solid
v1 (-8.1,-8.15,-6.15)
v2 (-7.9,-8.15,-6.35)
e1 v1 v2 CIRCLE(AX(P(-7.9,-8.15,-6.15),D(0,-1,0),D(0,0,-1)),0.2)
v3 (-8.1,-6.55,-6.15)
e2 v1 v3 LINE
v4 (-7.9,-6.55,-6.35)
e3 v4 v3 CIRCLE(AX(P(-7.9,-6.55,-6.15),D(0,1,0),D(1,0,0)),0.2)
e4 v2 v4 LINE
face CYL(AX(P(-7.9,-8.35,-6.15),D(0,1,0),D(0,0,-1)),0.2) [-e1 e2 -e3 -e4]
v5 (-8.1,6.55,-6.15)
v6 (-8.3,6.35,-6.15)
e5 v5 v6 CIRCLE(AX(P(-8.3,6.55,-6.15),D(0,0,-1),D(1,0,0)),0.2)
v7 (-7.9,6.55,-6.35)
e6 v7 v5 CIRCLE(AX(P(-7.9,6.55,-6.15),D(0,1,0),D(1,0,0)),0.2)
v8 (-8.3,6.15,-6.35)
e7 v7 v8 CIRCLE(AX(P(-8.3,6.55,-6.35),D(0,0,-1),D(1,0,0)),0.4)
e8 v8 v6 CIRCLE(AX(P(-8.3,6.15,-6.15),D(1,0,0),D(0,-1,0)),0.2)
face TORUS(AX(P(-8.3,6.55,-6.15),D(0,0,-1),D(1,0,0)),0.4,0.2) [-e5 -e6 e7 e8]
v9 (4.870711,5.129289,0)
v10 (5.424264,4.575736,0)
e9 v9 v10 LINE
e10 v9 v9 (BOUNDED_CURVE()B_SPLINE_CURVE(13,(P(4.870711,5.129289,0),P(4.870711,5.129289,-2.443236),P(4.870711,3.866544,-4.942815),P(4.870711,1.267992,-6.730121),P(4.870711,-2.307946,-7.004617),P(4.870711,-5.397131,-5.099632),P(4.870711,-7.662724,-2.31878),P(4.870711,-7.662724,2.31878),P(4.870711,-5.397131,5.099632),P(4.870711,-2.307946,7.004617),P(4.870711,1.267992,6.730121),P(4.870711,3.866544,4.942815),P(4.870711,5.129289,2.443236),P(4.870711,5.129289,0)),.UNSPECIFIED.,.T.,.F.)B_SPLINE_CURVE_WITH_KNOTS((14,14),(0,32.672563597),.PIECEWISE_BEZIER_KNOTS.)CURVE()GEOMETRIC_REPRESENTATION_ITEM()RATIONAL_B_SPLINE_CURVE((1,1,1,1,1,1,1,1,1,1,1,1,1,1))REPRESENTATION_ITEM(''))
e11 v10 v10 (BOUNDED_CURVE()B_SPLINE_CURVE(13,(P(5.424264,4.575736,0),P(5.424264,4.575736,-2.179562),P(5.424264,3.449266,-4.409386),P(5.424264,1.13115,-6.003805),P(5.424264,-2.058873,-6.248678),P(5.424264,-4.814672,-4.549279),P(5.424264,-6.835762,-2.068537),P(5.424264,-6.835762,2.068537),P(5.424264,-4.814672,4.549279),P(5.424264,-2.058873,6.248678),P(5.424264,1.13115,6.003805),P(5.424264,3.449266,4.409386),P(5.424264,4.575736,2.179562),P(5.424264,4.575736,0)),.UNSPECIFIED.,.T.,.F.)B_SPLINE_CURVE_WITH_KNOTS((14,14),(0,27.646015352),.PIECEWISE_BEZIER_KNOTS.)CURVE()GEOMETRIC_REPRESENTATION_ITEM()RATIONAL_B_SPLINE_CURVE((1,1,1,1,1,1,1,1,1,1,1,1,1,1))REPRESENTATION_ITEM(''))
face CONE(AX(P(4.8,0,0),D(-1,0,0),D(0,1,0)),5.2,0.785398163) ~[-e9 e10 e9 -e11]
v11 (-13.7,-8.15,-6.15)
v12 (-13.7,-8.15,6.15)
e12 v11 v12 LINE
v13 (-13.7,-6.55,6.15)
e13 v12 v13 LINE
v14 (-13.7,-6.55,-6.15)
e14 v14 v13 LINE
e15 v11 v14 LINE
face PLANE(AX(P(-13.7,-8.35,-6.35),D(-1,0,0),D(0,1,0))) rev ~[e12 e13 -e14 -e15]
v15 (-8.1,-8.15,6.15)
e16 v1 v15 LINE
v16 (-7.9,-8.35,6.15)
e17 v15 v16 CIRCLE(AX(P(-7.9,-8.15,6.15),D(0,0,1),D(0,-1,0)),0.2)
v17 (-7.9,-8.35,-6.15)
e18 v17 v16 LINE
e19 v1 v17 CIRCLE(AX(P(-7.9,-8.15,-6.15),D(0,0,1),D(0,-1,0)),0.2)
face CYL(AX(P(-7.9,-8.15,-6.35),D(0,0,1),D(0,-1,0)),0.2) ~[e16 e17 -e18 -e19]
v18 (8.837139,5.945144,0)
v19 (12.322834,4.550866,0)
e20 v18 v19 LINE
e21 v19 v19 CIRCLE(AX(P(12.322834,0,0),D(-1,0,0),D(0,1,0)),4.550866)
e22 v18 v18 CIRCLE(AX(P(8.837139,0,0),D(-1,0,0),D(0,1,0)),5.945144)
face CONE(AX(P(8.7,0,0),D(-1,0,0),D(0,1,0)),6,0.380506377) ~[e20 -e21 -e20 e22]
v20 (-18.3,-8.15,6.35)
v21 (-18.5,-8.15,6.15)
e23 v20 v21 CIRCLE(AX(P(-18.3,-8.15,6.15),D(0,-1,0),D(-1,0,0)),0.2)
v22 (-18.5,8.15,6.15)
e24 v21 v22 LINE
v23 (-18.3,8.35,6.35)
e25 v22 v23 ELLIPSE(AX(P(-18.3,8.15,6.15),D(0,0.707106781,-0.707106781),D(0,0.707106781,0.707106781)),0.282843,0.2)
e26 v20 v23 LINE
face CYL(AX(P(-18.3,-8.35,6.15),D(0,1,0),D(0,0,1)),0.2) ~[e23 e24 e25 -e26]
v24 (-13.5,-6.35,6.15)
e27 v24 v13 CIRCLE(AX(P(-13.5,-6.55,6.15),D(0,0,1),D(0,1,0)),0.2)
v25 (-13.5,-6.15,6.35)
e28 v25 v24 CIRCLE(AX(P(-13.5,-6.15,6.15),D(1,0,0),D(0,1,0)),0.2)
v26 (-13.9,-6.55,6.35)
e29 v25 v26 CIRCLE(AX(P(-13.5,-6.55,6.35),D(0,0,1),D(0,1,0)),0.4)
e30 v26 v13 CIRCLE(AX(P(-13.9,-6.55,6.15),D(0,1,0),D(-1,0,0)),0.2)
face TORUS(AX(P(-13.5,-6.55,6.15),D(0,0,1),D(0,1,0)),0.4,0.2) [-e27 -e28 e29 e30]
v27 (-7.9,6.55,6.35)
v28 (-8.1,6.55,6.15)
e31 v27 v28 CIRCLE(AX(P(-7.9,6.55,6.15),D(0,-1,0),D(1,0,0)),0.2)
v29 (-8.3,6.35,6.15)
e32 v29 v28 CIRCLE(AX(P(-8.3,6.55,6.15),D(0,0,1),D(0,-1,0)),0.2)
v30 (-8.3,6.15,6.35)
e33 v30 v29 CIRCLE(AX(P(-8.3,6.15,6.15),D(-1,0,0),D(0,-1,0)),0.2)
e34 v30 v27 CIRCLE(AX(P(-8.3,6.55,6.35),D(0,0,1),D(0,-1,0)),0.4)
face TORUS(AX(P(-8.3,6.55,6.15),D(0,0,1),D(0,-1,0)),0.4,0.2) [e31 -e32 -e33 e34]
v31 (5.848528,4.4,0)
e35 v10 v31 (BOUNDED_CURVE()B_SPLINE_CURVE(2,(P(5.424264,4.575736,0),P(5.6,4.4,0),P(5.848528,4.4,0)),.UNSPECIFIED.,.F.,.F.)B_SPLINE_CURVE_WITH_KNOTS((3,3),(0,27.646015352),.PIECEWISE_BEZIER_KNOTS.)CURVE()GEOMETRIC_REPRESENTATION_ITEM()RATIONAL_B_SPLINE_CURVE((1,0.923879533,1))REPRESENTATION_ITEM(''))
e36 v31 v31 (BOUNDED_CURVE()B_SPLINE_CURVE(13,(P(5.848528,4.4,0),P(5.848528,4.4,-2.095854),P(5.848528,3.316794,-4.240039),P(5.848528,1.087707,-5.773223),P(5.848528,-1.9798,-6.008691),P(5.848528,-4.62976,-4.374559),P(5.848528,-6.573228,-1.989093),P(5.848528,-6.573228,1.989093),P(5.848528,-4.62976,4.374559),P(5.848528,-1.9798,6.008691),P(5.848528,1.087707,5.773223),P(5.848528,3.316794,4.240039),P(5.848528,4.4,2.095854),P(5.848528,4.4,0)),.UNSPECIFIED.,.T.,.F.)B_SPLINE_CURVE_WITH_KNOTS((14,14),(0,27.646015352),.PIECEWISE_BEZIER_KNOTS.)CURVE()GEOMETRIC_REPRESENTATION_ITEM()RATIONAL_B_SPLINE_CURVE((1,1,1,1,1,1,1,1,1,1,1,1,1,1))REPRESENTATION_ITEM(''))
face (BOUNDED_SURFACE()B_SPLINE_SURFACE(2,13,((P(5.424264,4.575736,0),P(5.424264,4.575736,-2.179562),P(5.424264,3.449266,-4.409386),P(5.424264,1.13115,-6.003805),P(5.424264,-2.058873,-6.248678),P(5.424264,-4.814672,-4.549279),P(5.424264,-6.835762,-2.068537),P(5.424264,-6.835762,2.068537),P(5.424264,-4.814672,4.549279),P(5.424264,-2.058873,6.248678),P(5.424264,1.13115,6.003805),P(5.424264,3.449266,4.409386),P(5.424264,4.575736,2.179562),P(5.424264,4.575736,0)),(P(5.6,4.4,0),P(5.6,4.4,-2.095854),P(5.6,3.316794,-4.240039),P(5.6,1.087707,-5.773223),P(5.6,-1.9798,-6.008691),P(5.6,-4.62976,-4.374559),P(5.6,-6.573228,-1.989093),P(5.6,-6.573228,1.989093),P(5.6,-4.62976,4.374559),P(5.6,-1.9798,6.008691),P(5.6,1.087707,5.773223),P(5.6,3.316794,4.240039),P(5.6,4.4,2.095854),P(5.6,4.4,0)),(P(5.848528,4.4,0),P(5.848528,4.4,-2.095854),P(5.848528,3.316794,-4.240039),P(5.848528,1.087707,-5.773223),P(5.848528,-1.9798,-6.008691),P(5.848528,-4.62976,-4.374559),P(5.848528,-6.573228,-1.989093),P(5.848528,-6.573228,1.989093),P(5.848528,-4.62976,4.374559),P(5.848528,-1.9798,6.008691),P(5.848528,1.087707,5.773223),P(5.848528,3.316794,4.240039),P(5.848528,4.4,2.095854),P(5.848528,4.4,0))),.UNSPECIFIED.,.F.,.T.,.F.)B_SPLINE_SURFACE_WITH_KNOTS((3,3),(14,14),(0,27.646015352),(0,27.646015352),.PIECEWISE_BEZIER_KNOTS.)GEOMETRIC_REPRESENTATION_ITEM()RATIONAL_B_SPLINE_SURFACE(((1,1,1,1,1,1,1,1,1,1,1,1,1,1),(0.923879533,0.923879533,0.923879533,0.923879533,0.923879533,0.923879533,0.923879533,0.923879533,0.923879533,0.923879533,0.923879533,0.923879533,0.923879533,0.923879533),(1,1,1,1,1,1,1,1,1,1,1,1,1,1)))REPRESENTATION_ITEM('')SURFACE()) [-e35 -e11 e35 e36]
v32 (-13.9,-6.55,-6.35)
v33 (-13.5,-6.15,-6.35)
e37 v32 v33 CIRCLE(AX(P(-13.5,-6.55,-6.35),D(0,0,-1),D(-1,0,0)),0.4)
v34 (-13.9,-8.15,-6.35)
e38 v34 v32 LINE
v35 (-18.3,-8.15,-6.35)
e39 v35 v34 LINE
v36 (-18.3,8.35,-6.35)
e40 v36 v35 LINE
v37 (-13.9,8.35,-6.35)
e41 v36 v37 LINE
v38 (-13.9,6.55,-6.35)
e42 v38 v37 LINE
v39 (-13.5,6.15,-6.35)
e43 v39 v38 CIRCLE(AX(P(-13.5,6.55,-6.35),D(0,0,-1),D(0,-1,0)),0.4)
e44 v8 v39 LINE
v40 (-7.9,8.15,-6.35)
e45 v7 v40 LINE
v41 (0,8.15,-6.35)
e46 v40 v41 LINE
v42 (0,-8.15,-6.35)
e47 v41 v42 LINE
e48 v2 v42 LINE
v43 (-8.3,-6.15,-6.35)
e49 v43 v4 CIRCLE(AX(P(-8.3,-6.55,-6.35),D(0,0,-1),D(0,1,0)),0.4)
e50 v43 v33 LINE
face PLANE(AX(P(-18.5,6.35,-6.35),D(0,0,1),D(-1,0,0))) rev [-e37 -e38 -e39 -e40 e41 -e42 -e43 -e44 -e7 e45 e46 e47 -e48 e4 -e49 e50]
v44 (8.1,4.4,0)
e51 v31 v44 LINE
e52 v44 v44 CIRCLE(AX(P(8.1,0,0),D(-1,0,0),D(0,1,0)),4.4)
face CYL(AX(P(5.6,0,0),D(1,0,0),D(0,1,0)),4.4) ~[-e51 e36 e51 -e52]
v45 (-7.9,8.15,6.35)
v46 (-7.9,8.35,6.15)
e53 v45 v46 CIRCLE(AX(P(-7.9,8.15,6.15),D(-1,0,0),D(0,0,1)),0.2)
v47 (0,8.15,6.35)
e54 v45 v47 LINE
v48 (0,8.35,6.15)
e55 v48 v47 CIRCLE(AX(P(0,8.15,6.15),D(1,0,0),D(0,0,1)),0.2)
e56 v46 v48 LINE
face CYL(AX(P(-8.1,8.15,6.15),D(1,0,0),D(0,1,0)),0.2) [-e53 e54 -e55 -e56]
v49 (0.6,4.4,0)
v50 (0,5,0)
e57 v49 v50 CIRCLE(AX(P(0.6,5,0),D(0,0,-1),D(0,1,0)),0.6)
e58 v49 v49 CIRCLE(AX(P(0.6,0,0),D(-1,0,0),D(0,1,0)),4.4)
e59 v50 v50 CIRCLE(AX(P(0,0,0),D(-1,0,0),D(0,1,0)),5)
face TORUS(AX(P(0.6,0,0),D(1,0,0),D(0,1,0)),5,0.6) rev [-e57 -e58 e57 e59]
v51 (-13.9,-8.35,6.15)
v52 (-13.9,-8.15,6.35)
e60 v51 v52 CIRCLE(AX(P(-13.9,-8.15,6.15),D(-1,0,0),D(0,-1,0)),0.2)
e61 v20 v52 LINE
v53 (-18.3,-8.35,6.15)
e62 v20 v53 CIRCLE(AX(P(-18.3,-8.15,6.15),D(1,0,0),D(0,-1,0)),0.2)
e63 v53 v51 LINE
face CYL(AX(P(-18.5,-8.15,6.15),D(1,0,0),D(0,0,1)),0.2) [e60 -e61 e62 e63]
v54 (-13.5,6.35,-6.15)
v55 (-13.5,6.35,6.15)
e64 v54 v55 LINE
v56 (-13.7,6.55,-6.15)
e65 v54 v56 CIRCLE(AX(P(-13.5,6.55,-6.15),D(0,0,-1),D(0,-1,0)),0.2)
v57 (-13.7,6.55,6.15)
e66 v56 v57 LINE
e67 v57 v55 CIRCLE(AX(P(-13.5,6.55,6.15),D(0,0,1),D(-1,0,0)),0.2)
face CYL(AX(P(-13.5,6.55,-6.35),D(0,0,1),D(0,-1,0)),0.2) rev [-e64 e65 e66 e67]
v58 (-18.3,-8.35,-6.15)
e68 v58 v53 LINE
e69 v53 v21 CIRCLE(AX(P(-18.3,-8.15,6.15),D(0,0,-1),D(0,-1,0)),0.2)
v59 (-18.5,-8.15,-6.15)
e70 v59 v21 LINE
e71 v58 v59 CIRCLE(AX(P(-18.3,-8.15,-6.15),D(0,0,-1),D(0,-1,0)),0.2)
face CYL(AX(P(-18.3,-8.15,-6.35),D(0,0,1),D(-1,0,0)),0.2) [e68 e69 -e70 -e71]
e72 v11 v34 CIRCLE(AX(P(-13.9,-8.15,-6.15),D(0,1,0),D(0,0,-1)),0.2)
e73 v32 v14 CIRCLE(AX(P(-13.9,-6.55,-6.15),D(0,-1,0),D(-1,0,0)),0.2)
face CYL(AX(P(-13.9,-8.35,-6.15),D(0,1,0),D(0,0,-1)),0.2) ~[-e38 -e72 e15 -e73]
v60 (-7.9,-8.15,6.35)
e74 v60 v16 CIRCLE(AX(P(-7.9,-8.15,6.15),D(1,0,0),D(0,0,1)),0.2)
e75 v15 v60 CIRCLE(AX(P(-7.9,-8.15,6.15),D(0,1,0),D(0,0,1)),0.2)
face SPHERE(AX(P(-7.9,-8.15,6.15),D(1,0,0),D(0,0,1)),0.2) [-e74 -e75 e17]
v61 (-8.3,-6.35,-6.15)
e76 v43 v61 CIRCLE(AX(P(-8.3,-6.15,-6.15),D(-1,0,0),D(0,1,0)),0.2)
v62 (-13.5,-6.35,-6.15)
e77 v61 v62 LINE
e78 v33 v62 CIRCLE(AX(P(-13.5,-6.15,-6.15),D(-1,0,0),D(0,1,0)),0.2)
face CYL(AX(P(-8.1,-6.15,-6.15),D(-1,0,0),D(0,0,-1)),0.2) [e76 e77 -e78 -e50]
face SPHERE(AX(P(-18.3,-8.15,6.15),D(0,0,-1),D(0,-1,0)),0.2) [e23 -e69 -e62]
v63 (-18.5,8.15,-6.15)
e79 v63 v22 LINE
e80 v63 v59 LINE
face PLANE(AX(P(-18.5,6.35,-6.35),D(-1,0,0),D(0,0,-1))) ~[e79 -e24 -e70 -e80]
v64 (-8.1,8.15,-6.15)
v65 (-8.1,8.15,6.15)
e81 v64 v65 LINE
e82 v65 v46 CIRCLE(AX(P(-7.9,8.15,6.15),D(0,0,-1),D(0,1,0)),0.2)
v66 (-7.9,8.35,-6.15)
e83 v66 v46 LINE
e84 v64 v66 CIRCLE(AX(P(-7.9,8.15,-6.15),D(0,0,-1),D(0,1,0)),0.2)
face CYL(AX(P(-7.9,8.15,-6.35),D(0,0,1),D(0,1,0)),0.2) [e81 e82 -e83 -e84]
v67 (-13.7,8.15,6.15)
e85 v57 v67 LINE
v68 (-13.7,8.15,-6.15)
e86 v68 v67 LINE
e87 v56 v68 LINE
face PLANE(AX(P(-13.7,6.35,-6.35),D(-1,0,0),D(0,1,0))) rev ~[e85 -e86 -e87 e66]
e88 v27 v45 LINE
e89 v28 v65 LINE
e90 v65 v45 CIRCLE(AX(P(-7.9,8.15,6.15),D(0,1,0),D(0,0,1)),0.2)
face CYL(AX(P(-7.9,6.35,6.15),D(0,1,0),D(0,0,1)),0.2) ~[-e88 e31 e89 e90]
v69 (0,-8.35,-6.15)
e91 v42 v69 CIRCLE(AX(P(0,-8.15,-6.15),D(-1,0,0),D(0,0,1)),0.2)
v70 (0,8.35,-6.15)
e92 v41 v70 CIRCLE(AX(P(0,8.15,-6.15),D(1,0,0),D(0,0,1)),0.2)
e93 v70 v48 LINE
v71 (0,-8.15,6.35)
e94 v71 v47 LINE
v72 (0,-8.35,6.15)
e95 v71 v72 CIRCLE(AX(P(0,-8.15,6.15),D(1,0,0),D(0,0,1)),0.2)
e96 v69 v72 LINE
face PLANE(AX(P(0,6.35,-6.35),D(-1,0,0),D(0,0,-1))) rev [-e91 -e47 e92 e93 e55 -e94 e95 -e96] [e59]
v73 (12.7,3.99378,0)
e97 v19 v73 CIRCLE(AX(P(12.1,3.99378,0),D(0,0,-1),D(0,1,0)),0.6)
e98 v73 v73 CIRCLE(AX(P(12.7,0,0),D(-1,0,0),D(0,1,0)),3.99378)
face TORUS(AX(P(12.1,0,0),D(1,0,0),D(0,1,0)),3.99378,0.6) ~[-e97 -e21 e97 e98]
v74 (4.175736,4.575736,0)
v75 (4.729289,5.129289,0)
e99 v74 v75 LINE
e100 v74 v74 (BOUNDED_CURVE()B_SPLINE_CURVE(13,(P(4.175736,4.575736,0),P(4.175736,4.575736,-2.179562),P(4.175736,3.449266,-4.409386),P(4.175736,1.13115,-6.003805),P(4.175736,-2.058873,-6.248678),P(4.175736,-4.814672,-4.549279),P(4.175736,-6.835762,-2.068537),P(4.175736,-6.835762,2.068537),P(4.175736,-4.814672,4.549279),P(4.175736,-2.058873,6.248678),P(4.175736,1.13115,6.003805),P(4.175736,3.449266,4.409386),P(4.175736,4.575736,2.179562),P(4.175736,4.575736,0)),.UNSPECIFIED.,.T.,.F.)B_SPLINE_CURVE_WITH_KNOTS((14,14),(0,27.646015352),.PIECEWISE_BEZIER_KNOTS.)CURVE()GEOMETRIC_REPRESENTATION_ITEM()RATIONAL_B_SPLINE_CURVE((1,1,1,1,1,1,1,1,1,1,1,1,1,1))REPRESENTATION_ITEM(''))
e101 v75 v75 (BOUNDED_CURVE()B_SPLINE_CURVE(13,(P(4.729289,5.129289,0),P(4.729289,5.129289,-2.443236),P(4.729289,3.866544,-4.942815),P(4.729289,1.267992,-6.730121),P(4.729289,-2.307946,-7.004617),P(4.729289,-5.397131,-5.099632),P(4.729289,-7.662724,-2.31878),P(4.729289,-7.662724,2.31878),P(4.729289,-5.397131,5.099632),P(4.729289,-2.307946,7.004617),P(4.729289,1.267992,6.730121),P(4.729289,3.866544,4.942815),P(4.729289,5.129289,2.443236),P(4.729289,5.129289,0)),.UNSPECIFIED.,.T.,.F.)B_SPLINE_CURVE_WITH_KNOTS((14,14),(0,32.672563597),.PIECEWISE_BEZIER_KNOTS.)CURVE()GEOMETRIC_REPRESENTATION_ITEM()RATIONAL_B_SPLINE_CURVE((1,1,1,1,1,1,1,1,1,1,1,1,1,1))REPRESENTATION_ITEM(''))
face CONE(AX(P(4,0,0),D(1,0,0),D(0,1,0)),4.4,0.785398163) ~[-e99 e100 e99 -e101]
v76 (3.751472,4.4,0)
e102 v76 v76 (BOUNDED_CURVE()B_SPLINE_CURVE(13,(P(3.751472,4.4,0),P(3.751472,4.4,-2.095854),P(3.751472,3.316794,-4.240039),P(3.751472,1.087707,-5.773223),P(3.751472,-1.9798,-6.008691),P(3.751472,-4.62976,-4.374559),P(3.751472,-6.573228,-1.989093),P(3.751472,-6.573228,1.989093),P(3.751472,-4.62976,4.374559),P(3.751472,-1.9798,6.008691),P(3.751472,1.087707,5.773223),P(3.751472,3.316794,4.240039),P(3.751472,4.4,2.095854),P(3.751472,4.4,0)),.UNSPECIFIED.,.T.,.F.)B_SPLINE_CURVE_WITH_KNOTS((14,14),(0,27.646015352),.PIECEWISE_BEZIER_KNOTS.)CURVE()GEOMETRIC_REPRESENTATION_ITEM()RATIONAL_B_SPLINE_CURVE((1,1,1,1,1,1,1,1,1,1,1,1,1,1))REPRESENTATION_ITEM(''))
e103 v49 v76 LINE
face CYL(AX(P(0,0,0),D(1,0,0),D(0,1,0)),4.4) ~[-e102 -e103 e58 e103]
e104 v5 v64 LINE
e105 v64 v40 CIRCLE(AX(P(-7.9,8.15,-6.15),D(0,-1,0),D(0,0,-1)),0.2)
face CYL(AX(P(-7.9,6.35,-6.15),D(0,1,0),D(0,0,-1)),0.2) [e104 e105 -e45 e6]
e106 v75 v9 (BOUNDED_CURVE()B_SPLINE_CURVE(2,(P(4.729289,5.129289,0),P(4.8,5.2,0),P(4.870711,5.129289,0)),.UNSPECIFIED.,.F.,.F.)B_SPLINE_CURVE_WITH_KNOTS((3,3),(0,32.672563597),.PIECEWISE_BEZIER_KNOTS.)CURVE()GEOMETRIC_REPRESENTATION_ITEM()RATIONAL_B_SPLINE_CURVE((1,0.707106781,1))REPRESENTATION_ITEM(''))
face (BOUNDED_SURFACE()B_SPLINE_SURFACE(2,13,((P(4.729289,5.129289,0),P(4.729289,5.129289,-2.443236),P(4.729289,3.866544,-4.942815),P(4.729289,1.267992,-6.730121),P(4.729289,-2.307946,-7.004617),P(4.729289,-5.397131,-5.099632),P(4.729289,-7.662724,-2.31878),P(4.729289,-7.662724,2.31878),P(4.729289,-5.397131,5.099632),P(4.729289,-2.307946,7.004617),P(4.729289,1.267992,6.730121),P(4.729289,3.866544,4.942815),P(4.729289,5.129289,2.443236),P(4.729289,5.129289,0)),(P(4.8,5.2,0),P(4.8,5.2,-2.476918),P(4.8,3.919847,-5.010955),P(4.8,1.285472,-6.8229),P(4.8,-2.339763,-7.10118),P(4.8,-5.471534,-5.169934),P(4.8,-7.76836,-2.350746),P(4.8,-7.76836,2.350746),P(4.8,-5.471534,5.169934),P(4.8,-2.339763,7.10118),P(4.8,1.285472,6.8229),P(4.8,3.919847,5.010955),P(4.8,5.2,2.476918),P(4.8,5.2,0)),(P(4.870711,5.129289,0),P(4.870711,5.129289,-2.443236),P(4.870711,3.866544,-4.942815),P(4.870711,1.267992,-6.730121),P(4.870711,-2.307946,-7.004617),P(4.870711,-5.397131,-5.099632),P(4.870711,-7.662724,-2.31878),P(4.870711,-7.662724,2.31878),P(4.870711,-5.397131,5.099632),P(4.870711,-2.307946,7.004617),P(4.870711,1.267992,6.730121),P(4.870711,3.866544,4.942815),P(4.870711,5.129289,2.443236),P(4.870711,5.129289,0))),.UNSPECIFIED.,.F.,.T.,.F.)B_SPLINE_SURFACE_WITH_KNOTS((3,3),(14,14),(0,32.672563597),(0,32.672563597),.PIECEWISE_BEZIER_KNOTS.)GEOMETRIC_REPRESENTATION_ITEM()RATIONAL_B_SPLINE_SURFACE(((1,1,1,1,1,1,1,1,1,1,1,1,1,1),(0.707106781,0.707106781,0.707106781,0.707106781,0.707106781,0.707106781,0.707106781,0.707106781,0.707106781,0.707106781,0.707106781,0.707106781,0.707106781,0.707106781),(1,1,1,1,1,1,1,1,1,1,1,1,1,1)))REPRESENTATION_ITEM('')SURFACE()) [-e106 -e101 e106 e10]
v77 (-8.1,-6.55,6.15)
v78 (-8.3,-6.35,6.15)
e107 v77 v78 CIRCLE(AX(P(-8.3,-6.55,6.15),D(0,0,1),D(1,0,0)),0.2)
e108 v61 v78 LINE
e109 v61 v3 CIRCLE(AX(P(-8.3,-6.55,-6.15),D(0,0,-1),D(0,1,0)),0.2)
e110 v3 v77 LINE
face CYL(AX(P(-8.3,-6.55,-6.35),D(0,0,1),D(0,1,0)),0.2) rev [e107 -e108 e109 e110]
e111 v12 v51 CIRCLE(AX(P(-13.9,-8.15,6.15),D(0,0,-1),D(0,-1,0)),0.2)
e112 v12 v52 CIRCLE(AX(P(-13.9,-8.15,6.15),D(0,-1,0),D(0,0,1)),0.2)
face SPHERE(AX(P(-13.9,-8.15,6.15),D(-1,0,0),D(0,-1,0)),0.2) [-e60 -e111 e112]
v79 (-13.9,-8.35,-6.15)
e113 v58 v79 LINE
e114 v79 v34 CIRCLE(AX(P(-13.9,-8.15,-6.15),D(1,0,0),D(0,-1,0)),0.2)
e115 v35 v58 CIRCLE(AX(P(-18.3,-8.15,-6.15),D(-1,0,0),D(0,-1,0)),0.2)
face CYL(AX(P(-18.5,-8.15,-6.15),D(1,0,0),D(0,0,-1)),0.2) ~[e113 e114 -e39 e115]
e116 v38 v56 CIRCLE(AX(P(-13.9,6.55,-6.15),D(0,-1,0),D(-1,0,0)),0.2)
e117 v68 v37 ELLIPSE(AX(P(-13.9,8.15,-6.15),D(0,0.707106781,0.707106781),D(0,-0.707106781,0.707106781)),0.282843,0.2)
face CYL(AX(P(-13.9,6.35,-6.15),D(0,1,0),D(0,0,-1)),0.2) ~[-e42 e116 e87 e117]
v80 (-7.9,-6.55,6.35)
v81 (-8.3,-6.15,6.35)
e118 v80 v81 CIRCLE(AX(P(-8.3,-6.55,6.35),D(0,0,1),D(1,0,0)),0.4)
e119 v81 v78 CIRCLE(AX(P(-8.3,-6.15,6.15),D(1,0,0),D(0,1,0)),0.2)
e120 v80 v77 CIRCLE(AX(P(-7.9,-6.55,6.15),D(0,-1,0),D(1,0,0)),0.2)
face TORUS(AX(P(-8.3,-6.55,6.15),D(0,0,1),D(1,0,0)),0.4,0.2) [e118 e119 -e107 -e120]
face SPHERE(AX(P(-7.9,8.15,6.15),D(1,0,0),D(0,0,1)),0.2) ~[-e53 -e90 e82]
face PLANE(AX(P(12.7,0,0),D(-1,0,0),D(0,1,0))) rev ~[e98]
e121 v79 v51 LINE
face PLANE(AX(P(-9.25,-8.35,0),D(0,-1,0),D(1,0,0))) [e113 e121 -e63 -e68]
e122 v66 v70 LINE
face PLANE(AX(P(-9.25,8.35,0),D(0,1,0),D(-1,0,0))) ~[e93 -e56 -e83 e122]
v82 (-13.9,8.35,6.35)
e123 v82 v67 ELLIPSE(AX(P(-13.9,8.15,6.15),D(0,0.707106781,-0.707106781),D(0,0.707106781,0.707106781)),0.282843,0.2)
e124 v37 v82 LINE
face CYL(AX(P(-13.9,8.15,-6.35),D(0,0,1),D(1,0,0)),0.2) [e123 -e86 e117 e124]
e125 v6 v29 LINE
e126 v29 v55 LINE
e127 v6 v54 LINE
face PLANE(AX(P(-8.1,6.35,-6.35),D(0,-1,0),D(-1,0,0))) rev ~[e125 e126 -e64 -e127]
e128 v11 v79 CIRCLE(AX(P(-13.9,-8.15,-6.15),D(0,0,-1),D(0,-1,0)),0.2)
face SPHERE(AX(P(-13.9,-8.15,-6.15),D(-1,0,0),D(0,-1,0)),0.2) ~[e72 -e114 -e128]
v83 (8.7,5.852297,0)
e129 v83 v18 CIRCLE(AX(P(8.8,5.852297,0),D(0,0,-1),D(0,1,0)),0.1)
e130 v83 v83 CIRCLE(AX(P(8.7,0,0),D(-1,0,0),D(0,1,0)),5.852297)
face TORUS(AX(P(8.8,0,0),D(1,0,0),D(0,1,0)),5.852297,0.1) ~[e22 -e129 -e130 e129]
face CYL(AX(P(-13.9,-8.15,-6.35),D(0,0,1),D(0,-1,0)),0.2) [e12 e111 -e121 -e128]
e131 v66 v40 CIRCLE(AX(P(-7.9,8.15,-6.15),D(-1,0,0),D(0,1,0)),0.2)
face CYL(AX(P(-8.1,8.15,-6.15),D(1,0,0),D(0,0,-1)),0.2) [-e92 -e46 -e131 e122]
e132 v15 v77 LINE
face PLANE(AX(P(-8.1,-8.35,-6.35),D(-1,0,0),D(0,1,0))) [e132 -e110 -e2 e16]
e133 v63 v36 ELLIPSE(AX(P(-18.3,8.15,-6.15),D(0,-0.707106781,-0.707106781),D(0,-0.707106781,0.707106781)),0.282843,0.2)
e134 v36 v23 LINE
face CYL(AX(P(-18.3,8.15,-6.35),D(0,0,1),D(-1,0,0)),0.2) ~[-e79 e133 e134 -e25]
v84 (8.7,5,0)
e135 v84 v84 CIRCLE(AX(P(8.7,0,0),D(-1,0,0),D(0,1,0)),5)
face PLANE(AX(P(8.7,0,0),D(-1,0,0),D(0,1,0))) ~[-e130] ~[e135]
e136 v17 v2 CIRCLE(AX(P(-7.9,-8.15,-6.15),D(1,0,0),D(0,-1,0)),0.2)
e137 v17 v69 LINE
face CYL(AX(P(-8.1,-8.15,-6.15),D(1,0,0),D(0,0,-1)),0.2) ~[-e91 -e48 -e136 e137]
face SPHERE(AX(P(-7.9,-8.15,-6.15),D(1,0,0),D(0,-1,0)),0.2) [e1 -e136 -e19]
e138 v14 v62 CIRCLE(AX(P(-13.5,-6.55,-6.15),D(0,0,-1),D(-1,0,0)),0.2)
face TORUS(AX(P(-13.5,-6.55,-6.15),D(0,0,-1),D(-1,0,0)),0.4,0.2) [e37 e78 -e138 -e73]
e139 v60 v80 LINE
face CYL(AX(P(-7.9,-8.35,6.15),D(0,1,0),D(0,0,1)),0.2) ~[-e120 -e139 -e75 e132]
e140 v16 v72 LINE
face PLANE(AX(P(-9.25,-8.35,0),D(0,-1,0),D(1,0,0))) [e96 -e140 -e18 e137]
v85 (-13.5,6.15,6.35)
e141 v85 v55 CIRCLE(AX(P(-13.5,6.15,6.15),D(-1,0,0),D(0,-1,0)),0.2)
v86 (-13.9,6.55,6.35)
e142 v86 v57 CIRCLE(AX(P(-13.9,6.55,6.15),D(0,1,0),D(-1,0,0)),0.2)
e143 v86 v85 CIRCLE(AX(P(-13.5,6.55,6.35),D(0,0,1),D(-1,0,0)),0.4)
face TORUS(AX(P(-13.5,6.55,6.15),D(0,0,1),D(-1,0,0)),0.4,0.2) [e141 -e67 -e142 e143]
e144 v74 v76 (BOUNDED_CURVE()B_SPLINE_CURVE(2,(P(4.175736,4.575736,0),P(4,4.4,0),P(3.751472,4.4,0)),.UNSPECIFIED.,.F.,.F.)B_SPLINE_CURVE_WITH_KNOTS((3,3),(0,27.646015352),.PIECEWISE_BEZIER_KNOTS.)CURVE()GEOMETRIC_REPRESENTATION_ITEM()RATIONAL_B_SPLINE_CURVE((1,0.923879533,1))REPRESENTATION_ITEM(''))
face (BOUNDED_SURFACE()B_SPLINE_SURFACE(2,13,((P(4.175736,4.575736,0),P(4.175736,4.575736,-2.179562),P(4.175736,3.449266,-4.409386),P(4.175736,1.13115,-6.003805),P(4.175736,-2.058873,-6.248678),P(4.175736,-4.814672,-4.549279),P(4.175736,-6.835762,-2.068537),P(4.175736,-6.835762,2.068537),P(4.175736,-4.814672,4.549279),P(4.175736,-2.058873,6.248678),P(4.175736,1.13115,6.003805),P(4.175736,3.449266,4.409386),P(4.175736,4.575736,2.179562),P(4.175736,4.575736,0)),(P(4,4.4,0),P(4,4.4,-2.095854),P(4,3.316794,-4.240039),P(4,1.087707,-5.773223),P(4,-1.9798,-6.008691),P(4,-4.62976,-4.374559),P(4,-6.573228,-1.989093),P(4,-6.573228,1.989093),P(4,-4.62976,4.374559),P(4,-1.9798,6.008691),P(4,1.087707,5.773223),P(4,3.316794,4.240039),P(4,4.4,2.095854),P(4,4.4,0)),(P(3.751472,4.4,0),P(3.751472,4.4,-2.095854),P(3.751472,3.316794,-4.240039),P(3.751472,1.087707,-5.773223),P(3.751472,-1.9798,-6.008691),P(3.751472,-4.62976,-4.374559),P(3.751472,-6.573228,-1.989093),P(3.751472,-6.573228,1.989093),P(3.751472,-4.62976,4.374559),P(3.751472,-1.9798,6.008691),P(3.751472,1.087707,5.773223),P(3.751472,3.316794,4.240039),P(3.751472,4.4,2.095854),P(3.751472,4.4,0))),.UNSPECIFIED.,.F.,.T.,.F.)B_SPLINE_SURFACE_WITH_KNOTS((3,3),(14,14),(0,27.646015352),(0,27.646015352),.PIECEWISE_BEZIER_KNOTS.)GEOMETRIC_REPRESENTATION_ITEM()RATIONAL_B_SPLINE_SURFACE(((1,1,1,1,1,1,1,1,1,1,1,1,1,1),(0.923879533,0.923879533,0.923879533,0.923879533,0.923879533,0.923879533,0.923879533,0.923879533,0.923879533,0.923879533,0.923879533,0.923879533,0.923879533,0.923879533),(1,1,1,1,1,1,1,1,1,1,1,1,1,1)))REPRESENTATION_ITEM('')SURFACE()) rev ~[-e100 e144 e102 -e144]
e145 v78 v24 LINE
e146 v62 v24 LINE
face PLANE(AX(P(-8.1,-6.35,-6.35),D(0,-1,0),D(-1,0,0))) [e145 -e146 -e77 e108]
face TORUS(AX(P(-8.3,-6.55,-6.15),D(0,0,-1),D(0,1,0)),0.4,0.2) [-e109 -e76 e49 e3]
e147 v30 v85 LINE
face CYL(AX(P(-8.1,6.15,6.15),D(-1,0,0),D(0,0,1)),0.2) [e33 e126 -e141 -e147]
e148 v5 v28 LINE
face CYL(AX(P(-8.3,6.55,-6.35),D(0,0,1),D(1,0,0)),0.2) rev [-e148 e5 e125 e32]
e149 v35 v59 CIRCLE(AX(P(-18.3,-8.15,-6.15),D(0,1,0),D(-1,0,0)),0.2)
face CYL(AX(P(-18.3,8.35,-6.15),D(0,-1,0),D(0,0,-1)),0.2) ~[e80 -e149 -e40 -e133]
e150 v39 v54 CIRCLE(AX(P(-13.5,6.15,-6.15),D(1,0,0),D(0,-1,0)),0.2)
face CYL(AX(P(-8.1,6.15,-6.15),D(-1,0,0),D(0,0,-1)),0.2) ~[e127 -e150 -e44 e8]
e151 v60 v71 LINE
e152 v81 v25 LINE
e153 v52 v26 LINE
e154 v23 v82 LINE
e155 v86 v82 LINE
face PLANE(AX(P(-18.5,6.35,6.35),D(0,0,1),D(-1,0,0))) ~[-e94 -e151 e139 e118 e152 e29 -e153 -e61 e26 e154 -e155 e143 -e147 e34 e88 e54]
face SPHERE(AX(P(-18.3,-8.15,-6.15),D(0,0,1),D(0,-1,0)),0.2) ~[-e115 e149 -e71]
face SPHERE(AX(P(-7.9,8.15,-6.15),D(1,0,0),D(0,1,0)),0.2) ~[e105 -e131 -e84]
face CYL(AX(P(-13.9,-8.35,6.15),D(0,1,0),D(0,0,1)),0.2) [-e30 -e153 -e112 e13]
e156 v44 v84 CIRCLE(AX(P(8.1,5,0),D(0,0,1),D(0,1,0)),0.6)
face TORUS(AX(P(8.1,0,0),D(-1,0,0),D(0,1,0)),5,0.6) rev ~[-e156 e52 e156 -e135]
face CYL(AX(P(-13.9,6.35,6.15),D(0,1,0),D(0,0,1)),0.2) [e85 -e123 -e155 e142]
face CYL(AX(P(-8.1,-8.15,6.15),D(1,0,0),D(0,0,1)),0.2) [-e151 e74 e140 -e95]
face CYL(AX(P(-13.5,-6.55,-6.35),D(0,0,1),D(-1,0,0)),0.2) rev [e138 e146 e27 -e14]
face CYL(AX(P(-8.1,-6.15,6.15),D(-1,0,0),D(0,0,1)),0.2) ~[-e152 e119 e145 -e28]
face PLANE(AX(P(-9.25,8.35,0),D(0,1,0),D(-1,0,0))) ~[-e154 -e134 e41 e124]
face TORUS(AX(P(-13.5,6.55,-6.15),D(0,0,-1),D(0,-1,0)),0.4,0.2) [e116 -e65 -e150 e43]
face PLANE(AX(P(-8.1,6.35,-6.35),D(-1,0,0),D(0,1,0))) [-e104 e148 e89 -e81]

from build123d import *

# Parameters (mm, degrees)
SKETCH2_W           = 18.5
SKETCH2_H           = 12.7
SKETCH2_R           = 3.175
BOSS_EXTRUDE2_DEPTH = 6.35
SKETCH12_R          = 3.175
BOSS_EXTRUDE3_DEPTH = 12.7
SKETCH13_W          = 18.5
SKETCH13_H          = 12.7
BOSS_EXTRUDE4_DEPTH = 2
SKETCH15_W          = 5.6
SKETCH15_H          = 2
CUT_EXTRUDE1_DEPTH  = 24.942900827
FILLET1_R           = 0.1
FILLET2_R           = 0.6
FILLET5_R           = 0.2


with BuildPart() as part:
    # Sketch2 → Boss-Extrude2 (new, symmetric)
    with BuildSketch(Plane(origin=(0, 0, 0), x_dir=(1, 0, 0), z_dir=(0, 1, 0))):
        with Locations((-9.25, 0)):
            Rectangle(SKETCH2_W, SKETCH2_H)
        with Locations(Location((-12.7, 0, 0), (0, 0, 270))):
            Circle(SKETCH2_R, mode=Mode.SUBTRACT)
    extrude(amount=BOSS_EXTRUDE2_DEPTH, both=True)

    # Sketch3 → Revolve1 (revolve)
    with BuildSketch(Plane.XY):
        Polygon((0, 0), (0, 4.4), (4, 4.4), (4.8, 5.2), (5.6, 4.4), (8.7, 4.4), (8.7, 6), (12.7, 4.4), (12.7, 0), align=None)
    revolve(axis=Axis((12.7, 0, 0), (-1, 0, 0)))

    # Sketch12 → Boss-Extrude3 (add)
    with BuildSketch(Plane.XZ.offset(6.35)):
        with Locations((-12.7, 0)):
            Circle(SKETCH12_R)
    extrude(amount=-BOSS_EXTRUDE3_DEPTH)

    # Sketch13 → Boss-Extrude4 (add)
    with BuildSketch(Plane.XZ.offset(6.35)):
        with Locations((-9.25, 0)):
            Rectangle(SKETCH13_W, SKETCH13_H)
    boss_extrude4 = extrude(amount=BOSS_EXTRUDE4_DEPTH)

    # Mirror1: Boss-Extrude4 across plane
    add(boss_extrude4.mirror(Plane.ZX))

    # Sketch15 → Cut-Extrude1 (cut, through all)
    with BuildSketch(Plane(origin=(0, 0, -6.35), x_dir=(-1, 0, 0), z_dir=(0, 0, -1))):
        with Locations((10.9, 7.35)):
            Rectangle(SKETCH15_W, SKETCH15_H)
        with Locations((10.9, -7.35)):
            Rectangle(SKETCH15_W, SKETCH15_H)
    extrude(amount=-CUT_EXTRUDE1_DEPTH, mode=Mode.SUBTRACT)

    # Fillet1
    fillet1_edges = [part.edges().sort_by_distance(p)[0] for p in [
        (8.7, -6, 0),
        (4.8, -5.2, 0),
    ]]
    fillet(fillet1_edges, radius=FILLET1_R)

    # Fillet2
    fillet2_edges = [part.edges().sort_by_distance(p)[0] for p in [
        (0, -4.4, 0),
        (5.6, -4.4, 0),
        (8.7, -4.4, 0),
        (12.7, -4.4, 0),
        (4, -4.4, 0),
    ]]
    fillet(fillet2_edges, radius=FILLET2_R)

    # Fillet5
    fillet5_edges = [part.edges().sort_by_distance(p)[0] for p in [
        (-4.05, -8.35, 6.35),
        (-18.5, -8.35, 0),
        (-16.1, -8.35, -6.35),
        (-18.5, 8.35, 0),
        (-4.05, 8.35, 6.35),
        (-4.05, 8.35, -6.35),
        (-16.1, -8.35, 6.35),
        (-4.05, -8.35, -6.35),
        (-8.1, 7.35, 6.35),
        (-8.1, 6.35, 0),
        (-8.1, 8.35, 0),
        (-13.7, 7.35, 6.35),
        (-13.7, 8.35, 0),
        (-10.9, 6.35, 6.35),
        (-13.7, 6.35, 0),
        (-8.1, 7.35, -6.35),
        (-10.9, 6.35, -6.35),
        (-13.7, 7.35, -6.35),
        (-13.7, -8.35, 0),
        (-8.1, -7.35, 6.35),
        (-8.1, -8.35, 0),
        (-10.9, -6.35, 6.35),
        (-8.1, -6.35, 0),
        (-13.7, -7.35, 6.35),
        (-13.7, -6.35, 0),
        (-13.7, -7.35, -6.35),
        (-10.9, -6.35, -6.35),
        (-8.1, -7.35, -6.35),
        (-18.5, 0, 6.35),
        (-18.5, 0, -6.35),
    ]]
    fillet(fillet5_edges, radius=FILLET5_R)


solid = part.part
